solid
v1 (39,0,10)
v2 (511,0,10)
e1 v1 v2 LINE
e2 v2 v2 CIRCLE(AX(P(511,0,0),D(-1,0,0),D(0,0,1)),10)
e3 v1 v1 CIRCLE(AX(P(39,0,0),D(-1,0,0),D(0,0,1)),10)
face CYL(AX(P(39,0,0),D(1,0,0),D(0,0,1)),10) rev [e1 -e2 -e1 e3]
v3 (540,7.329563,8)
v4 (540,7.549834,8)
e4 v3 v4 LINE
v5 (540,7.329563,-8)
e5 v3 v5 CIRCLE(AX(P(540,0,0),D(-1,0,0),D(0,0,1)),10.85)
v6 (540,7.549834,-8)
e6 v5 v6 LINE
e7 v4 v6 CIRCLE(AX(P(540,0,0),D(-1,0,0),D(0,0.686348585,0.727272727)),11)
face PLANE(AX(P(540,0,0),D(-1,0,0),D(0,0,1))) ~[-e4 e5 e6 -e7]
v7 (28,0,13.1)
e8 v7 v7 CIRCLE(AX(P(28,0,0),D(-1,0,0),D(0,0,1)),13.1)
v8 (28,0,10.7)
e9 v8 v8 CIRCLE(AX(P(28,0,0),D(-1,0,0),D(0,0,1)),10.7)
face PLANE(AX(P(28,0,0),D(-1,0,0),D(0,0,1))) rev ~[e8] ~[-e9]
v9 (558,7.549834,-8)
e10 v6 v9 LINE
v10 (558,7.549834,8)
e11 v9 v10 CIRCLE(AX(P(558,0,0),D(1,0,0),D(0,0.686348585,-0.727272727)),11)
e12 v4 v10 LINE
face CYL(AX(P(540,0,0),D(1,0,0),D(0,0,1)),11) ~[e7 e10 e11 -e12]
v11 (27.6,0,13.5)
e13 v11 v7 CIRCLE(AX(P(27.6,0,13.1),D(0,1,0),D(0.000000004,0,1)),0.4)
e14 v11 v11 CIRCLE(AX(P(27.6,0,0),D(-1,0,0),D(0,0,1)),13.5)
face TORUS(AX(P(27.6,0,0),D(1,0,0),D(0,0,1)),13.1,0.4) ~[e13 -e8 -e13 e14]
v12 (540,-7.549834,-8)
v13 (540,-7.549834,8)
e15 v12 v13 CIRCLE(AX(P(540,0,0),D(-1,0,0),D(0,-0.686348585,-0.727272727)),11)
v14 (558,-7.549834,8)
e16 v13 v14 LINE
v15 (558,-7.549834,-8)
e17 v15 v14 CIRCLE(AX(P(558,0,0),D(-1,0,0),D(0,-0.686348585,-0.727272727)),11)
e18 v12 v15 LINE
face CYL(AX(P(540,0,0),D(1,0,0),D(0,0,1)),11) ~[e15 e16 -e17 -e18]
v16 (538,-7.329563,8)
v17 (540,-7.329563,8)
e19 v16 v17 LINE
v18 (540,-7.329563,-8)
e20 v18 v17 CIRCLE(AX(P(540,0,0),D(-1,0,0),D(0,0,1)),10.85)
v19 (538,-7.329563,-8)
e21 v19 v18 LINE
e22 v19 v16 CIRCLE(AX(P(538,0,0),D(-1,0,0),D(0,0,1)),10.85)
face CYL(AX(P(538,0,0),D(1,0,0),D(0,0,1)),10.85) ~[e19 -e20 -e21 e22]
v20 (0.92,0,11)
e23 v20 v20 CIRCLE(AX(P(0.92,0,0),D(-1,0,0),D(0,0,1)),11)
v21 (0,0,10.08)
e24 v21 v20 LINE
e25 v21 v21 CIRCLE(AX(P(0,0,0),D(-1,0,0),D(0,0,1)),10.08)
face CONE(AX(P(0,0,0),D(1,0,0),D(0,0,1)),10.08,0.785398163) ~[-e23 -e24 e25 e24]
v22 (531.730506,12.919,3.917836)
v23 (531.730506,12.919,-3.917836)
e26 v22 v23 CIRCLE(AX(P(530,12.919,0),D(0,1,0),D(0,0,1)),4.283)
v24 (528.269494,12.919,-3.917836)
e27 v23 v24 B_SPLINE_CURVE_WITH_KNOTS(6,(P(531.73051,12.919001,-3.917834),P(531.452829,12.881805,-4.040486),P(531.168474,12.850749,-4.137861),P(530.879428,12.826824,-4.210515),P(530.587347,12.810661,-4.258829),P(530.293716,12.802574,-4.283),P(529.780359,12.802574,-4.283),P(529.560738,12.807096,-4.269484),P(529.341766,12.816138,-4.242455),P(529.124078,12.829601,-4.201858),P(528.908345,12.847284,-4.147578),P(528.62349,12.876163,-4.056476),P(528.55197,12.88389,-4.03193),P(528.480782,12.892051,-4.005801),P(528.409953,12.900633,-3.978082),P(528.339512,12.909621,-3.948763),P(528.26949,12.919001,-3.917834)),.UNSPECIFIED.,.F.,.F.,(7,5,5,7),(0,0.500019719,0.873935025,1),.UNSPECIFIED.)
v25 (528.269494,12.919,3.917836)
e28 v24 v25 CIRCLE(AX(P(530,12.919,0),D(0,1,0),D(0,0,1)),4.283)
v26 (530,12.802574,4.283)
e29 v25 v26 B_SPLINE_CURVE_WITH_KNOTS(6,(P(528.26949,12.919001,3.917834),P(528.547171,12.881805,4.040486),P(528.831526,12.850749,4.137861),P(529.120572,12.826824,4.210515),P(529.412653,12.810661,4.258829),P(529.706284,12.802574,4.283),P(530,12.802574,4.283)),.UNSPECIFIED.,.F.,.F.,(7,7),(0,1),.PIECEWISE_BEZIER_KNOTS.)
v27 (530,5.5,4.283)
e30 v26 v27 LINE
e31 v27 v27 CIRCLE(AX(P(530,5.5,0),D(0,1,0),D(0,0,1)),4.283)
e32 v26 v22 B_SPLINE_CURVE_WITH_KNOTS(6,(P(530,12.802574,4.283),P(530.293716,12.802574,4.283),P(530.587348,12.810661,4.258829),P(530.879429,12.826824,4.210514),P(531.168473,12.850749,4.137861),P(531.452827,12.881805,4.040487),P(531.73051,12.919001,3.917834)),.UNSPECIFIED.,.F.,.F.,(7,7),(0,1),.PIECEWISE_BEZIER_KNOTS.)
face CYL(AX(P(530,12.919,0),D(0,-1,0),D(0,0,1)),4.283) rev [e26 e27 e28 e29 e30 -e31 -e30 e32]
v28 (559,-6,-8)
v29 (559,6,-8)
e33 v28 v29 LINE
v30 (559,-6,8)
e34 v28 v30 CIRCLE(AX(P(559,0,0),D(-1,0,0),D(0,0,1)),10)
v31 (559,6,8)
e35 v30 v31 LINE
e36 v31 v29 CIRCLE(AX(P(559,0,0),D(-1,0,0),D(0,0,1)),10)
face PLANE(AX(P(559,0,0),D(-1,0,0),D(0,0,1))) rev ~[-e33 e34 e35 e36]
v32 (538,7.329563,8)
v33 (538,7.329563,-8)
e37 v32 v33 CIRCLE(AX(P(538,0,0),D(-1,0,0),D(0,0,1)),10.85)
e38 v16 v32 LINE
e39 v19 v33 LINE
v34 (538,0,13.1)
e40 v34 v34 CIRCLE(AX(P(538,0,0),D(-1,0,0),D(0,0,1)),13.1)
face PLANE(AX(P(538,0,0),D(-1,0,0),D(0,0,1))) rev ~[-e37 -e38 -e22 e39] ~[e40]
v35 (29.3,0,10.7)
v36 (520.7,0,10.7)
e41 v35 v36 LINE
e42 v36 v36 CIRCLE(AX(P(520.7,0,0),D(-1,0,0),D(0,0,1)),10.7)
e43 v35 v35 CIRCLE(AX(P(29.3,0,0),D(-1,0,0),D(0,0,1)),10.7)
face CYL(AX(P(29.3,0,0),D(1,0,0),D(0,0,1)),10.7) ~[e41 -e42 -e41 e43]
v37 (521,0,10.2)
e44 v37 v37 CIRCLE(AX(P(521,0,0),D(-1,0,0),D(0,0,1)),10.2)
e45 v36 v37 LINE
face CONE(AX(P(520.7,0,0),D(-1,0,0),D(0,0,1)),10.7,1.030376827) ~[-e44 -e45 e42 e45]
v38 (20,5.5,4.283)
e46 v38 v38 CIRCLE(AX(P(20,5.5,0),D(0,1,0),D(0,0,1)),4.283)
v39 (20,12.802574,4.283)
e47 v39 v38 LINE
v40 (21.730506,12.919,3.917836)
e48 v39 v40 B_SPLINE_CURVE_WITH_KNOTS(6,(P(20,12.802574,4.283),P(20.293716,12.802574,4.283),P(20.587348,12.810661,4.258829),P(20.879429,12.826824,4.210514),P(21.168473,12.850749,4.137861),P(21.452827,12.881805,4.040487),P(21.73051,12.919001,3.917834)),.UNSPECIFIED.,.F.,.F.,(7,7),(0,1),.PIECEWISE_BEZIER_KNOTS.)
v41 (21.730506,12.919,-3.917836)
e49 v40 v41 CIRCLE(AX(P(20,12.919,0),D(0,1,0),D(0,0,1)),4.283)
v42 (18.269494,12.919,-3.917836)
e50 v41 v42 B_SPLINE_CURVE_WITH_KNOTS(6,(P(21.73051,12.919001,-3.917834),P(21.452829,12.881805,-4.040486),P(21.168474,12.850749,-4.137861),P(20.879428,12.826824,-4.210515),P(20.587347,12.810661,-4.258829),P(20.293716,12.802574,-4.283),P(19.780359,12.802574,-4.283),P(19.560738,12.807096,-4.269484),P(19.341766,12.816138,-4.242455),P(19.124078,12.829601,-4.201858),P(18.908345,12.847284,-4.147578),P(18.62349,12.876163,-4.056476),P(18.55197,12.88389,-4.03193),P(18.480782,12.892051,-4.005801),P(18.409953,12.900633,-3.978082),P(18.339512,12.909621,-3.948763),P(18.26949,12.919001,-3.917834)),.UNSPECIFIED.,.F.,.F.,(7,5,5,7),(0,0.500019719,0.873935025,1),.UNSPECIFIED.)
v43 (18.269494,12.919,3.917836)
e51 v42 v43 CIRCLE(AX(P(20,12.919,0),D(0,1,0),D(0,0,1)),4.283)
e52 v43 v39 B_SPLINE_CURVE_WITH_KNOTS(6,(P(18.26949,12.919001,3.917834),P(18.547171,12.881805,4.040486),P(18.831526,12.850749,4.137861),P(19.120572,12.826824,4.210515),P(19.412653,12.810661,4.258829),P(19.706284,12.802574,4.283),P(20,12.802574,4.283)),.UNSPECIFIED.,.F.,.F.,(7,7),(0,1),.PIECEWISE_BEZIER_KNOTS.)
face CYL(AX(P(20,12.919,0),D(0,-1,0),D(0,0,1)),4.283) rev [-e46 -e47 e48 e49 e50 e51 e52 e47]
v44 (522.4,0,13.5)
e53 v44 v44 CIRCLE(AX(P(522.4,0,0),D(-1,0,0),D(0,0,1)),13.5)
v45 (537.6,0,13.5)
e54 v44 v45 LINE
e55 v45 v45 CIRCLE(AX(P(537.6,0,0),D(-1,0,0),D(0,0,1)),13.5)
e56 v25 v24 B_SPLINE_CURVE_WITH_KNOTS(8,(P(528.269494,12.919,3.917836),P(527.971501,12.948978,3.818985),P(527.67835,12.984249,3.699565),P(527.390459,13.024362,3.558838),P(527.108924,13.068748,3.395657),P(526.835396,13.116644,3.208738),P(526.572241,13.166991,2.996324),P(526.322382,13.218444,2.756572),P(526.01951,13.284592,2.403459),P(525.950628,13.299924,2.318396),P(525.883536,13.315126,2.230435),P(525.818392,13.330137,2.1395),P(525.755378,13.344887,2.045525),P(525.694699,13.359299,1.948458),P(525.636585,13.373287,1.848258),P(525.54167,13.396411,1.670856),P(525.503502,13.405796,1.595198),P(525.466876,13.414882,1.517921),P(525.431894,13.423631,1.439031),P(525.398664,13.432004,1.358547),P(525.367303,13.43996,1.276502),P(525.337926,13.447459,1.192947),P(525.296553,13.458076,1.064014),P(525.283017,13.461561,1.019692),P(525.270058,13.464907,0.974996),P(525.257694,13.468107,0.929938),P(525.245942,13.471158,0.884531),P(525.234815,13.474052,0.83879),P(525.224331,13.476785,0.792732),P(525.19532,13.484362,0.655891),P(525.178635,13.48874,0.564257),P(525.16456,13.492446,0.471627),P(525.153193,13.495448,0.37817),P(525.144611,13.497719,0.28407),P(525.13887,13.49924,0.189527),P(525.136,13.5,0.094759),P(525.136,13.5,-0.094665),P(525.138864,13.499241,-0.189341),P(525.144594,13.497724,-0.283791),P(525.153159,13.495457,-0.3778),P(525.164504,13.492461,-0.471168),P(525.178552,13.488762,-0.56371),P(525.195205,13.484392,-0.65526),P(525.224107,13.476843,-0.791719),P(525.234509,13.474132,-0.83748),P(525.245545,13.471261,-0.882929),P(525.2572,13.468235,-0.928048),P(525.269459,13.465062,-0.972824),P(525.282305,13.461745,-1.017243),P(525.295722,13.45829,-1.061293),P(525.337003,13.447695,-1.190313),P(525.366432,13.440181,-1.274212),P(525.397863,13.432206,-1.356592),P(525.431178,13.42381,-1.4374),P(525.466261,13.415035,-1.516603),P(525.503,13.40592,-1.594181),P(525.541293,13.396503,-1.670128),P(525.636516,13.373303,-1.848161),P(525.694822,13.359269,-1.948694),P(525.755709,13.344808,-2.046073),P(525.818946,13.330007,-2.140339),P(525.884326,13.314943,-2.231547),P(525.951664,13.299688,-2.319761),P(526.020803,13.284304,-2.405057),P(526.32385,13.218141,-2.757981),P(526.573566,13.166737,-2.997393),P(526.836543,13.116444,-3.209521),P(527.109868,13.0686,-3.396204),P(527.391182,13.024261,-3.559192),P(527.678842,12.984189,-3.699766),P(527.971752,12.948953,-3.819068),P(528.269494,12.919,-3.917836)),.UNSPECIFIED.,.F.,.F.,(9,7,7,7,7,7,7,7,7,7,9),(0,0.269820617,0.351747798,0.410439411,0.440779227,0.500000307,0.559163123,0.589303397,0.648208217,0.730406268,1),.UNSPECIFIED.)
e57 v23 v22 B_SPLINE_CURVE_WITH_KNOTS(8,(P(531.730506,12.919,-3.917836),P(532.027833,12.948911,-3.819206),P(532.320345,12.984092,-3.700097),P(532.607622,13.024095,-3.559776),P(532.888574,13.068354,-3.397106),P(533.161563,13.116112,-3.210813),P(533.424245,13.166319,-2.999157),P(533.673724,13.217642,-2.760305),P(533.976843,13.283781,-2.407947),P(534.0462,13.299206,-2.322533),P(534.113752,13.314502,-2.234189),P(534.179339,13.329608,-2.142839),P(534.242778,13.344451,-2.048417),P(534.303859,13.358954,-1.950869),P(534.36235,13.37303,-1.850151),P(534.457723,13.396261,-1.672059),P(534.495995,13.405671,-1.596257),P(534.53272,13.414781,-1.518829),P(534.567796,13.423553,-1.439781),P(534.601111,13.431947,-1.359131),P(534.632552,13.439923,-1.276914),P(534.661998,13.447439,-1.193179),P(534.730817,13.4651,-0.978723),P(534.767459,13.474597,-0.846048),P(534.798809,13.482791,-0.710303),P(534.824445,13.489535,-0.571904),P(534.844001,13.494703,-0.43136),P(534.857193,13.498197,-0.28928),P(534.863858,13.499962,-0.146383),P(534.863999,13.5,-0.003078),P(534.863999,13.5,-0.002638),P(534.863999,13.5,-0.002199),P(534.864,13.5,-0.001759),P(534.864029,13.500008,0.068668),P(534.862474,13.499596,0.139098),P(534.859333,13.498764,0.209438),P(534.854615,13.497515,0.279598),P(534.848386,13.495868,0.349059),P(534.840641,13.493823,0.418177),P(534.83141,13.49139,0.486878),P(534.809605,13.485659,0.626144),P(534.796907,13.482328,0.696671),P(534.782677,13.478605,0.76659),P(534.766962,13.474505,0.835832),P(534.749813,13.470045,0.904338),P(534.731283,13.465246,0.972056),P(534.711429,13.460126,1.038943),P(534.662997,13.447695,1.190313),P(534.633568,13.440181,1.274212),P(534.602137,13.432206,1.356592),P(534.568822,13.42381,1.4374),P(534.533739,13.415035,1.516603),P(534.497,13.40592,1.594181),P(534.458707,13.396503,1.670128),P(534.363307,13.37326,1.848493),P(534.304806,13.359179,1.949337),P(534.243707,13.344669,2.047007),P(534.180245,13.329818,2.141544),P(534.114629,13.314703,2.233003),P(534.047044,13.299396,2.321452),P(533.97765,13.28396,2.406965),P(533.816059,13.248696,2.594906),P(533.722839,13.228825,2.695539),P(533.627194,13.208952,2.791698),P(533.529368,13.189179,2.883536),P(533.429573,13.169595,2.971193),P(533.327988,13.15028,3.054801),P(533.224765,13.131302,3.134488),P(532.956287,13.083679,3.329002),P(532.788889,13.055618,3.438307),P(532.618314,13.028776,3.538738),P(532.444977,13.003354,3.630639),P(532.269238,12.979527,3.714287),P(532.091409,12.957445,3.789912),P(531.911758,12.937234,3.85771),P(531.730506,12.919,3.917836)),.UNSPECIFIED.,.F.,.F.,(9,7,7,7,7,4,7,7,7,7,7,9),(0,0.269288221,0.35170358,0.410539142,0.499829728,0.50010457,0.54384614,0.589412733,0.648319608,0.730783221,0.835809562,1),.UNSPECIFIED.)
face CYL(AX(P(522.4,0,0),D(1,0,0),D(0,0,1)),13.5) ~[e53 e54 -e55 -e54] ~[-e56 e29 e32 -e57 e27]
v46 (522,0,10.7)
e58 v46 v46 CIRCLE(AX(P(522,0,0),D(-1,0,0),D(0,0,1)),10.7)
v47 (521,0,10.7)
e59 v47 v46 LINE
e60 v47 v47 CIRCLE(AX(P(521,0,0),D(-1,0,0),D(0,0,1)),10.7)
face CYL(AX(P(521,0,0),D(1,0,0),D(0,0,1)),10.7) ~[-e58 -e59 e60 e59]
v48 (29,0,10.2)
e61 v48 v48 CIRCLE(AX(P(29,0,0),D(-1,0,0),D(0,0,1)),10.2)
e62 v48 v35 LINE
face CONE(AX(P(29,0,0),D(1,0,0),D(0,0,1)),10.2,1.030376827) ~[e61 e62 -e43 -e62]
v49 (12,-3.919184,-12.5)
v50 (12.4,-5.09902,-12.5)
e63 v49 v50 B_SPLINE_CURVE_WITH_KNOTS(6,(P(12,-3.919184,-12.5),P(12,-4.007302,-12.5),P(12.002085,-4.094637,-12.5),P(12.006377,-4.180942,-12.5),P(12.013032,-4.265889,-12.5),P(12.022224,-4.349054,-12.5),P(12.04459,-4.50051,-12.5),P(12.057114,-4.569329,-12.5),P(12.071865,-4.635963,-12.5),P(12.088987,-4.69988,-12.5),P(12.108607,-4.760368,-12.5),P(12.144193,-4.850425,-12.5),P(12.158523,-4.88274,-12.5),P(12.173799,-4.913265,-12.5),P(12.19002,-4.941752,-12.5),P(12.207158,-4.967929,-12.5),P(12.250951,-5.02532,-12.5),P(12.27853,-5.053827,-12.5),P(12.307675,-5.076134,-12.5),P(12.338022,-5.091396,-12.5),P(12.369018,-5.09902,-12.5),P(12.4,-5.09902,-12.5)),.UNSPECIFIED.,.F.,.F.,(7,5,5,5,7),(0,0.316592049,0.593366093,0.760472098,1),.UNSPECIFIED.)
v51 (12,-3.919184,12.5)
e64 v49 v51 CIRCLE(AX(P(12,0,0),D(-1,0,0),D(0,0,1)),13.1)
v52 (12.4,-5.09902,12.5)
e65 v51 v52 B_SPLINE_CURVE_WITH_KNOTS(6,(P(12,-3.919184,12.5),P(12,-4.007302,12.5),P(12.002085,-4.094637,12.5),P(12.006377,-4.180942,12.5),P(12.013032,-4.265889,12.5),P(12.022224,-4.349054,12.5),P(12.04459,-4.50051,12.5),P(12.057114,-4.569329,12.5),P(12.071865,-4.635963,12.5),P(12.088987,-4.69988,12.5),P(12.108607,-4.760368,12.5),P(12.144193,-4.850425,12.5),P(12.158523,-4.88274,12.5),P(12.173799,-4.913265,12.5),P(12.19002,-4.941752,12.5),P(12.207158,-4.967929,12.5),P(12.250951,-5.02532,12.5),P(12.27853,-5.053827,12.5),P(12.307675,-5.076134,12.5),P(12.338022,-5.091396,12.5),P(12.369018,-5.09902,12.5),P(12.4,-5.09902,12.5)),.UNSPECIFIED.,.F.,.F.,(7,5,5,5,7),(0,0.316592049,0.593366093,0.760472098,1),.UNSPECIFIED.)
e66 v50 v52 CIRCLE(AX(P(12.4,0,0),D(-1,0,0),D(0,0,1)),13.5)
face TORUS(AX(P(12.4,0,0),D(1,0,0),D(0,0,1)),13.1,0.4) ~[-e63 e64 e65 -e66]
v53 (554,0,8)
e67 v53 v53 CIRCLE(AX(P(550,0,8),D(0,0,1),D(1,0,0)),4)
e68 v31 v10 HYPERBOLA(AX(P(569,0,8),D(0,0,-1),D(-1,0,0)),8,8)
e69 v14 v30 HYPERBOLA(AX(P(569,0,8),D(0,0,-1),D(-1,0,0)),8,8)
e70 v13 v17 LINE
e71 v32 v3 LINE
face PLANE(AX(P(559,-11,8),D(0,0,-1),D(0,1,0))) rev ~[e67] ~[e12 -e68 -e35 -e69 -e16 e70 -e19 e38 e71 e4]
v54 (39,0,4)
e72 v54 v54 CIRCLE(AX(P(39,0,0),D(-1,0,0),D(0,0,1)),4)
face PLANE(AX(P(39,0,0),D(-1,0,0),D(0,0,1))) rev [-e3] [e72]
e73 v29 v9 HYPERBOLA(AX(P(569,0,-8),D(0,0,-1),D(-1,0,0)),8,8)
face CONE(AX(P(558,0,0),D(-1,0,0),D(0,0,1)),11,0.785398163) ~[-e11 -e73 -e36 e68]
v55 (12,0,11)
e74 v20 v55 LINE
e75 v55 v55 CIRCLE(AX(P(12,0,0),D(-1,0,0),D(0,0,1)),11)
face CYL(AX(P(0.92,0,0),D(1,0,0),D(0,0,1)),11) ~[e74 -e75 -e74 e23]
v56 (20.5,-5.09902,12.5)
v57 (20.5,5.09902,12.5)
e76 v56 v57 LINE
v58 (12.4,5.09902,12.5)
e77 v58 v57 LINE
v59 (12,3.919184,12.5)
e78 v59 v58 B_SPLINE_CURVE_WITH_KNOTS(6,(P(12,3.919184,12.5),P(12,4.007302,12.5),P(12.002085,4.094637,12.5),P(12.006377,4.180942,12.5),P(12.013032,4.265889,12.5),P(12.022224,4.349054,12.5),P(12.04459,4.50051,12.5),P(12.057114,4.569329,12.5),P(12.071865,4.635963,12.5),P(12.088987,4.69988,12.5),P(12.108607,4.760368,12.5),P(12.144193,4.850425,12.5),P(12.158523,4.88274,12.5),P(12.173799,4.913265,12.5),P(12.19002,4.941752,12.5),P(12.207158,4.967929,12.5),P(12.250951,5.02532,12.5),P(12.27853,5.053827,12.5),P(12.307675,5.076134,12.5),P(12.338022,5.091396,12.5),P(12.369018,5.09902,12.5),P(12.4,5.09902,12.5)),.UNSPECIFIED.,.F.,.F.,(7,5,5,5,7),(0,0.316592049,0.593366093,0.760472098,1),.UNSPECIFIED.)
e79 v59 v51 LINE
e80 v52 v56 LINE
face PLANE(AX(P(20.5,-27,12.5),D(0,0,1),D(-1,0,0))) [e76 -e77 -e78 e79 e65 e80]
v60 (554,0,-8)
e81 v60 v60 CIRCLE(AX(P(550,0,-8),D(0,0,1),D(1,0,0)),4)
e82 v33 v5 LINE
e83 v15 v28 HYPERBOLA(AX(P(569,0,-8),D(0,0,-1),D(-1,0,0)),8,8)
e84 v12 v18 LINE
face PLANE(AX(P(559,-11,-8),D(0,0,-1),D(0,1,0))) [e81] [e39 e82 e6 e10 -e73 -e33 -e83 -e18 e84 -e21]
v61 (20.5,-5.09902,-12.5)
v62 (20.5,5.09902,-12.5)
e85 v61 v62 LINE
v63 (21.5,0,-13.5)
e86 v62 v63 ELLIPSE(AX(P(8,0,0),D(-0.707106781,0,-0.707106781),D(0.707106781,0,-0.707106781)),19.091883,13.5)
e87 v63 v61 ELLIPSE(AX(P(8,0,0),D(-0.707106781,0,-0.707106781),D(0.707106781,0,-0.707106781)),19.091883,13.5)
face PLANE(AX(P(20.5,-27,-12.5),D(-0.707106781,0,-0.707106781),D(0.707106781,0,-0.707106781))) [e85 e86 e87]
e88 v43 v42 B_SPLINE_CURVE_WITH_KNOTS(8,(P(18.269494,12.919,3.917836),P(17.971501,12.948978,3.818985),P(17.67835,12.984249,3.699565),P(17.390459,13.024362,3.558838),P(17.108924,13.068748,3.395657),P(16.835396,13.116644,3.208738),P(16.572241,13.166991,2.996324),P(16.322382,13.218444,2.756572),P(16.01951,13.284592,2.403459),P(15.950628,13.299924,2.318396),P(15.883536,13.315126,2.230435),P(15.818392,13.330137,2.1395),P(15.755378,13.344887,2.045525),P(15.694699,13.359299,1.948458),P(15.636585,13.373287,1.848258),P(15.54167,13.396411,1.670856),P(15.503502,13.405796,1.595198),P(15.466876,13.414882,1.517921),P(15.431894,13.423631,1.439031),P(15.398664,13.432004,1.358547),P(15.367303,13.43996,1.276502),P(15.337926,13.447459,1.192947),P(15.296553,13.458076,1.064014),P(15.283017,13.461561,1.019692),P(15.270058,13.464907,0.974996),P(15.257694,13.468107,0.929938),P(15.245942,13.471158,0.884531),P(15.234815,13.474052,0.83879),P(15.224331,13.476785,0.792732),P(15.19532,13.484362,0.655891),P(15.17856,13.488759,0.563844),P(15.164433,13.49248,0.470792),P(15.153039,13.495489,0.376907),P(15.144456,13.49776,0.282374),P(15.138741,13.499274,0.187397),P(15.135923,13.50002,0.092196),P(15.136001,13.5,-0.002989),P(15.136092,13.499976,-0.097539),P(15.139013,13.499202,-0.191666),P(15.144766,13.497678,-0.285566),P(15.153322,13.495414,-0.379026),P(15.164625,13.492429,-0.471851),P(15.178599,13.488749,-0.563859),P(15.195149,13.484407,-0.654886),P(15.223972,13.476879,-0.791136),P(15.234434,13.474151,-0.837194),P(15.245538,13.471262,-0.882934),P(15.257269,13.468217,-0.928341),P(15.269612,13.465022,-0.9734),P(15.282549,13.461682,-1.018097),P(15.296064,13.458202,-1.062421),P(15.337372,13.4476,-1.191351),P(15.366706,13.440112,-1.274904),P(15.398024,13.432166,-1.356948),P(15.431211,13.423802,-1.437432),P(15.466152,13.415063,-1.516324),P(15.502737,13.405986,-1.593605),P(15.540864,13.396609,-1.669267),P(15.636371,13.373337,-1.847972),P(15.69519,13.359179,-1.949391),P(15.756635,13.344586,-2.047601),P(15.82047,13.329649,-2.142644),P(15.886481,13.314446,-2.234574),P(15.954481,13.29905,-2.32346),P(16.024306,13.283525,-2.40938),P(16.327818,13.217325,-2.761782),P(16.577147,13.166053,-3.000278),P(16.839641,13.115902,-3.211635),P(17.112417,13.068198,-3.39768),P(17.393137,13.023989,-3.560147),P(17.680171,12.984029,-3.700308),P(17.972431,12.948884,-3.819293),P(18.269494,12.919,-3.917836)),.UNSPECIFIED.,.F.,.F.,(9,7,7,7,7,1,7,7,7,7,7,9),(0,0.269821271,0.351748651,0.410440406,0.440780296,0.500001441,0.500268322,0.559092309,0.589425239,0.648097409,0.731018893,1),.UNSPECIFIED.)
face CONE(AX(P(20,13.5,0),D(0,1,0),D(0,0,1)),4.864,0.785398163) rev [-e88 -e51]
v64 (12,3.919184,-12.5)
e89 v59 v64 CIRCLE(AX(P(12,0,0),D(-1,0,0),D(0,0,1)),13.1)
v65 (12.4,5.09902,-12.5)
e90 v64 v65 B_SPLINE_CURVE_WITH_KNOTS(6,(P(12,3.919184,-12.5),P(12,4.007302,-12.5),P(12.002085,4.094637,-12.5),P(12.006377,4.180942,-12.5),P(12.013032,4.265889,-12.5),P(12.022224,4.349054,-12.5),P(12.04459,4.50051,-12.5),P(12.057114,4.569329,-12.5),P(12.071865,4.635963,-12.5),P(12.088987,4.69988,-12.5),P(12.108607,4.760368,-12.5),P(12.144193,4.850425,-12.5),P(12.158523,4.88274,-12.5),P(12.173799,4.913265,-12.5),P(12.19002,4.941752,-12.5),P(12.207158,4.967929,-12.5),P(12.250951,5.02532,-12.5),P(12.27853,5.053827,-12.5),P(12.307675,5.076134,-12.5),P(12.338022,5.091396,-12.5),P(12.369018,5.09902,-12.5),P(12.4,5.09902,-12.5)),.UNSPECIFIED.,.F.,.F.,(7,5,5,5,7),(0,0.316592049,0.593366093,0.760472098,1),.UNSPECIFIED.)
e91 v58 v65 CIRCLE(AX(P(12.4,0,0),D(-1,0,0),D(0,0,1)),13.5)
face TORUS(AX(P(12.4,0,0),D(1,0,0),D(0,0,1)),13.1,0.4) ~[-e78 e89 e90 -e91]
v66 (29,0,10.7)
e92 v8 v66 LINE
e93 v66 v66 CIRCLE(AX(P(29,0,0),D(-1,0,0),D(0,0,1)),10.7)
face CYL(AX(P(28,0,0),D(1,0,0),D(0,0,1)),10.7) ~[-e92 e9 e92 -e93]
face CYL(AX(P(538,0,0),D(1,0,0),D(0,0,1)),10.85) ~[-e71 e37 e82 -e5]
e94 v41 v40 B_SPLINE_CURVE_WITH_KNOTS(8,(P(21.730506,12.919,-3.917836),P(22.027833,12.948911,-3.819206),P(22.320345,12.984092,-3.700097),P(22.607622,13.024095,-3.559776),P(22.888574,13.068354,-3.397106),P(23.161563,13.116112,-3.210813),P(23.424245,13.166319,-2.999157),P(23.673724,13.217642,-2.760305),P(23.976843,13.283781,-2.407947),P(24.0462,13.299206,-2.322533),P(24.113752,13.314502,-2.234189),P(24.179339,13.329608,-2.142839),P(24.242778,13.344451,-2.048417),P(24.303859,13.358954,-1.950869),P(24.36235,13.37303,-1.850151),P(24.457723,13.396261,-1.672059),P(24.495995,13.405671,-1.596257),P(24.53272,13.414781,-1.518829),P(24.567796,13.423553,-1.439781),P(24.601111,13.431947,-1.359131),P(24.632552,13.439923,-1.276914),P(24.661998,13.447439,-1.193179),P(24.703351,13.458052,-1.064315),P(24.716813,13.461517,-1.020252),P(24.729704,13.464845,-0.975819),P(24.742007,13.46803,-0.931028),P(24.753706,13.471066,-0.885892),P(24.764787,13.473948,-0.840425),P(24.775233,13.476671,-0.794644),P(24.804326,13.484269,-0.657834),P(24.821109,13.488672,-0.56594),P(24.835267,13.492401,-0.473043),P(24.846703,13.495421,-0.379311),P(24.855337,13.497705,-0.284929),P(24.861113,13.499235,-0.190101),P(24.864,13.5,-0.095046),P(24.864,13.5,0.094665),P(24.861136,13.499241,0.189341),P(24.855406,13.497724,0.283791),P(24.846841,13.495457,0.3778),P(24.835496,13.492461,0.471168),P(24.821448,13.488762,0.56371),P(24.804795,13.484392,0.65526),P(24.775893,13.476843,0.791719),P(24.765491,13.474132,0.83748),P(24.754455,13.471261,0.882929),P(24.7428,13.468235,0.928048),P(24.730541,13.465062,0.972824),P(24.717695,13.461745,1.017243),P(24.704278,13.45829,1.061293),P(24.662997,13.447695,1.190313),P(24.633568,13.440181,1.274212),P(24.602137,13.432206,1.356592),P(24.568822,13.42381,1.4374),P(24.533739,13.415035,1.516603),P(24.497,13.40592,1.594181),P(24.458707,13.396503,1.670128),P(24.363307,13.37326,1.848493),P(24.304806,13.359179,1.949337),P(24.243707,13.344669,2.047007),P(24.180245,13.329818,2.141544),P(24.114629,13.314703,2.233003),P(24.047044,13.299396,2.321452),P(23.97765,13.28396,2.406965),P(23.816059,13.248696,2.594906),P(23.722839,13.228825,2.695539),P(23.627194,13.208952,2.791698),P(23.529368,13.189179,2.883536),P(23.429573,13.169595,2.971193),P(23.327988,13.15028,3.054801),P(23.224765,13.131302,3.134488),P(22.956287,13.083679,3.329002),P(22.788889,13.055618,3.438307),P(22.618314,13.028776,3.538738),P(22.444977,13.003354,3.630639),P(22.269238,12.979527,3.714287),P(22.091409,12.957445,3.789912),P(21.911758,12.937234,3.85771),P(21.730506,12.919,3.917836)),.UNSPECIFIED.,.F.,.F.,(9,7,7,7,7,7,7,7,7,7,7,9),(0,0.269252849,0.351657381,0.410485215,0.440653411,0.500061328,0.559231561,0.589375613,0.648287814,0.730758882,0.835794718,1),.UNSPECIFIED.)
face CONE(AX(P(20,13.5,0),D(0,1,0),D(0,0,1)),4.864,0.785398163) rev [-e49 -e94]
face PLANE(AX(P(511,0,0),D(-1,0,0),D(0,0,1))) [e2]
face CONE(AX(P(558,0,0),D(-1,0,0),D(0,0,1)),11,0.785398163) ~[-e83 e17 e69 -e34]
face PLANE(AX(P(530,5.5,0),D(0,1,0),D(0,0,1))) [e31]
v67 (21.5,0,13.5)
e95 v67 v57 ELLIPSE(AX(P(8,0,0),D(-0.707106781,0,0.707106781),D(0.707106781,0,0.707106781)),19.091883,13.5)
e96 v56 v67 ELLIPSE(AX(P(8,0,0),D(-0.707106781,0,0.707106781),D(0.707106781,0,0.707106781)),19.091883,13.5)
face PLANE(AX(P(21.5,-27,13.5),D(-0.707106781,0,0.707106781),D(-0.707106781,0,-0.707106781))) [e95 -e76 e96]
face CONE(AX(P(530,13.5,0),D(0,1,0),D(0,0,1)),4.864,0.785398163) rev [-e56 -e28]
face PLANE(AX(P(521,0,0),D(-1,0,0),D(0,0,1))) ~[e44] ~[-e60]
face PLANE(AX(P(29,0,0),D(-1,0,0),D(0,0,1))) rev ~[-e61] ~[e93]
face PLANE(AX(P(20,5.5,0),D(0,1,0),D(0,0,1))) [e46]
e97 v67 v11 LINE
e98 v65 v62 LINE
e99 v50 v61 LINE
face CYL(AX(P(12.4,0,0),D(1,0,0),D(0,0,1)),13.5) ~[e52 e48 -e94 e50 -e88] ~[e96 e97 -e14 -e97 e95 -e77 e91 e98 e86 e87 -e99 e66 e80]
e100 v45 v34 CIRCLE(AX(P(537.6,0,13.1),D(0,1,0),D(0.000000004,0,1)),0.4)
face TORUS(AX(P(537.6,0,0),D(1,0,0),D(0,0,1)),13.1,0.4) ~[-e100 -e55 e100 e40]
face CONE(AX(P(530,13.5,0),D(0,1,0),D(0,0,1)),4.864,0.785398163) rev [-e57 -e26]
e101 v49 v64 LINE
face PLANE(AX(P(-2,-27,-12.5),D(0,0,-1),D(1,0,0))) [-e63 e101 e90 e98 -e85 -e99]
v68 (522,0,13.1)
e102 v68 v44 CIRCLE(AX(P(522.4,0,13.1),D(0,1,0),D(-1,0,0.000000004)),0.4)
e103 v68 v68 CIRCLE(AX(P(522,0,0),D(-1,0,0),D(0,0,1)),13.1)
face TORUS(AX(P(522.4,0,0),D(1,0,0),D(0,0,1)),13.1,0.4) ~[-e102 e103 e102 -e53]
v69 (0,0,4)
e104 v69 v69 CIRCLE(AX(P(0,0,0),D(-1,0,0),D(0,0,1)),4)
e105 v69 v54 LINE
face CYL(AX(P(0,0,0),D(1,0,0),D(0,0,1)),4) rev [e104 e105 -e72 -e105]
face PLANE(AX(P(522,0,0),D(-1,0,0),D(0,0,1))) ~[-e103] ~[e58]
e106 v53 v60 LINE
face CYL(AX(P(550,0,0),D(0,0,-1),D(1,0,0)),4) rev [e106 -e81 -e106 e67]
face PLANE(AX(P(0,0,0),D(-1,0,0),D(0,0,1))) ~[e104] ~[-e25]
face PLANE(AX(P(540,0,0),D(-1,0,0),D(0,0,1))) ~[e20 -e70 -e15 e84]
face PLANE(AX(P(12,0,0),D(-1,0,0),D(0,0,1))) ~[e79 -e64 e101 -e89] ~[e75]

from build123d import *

# Parameters (mm, degrees)
SKETCH_3_W               = 36
SKETCH_3_H               = 42
SKETCH_3_W_2             = 16
SKETCH_3_H_2             = 22
CUT_EXTRUDE_1_DEPTH      = 21
SKETCH_4_W               = 16
SKETCH_4_H               = 4
CUT_EXTRUDE_2_DEPTH      = 27
CUT_EXTRUDE_2_DEPTH_BACK = 27


with BuildPart() as part:
    # 草图1 → 旋转1 (revolve)
    with BuildSketch(Plane.XY):
        with BuildLine():
            Line((0, 0), (0, 10.08))
            Line((0, 10.08), (0.92, 11))
            Line((0.92, 11), (12, 11))
            Line((12, 11), (12, 13.1))
            ThreePointArc((12, 13.1), (12.117157288, 13.382842712), (12.4, 13.5))
            Line((12.4, 13.5), (27.6, 13.5))
            ThreePointArc((27.6, 13.5), (27.882842712, 13.382842712), (28, 13.1))
            Line((28, 13.1), (28, 10.7))
            Line((28, 10.7), (29, 10.7))
            Line((29, 10.7), (29, 10.2))
            Line((29, 10.2), (29.3, 10.7))
            Line((29.3, 10.7), (520.7, 10.7))
            Line((520.7, 10.7), (521, 10.2))
            Line((521, 10.2), (521, 10.7))
            Line((521, 10.7), (522, 10.7))
            Line((522, 10.7), (522, 13.1))
            ThreePointArc((522, 13.1), (522.117157288, 13.382842712), (522.4, 13.5))
            Line((522.4, 13.5), (537.6, 13.5))
            ThreePointArc((537.6, 13.5), (537.882842712, 13.382842712), (538, 13.1))
            Line((538, 13.1), (538, 0))
            Line((538, 0), (0, 0))
        make_face()
    revolve(axis=Axis((538, 0, 0), (-1, 0, 0)))

    # 草图2 → 旋转2 (revolve)
    with BuildSketch(Plane.XY):
        Polygon((538, 0), (538, 10.85), (540, 10.85), (540, 11), (558, 11), (559, 10), (559, 0), align=None)
    revolve(axis=Axis((559, 0, 0), (-1, 0, 0)))

    # 草图3 → 切除-拉伸1 (cut)
    with BuildSketch(Plane(origin=(559, 0, 0), x_dir=(0, 0, -1), z_dir=(1, 0, 0))):
        Rectangle(SKETCH_3_W, SKETCH_3_H)
        Rectangle(SKETCH_3_W_2, SKETCH_3_H_2, mode=Mode.SUBTRACT)
    extrude(amount=-CUT_EXTRUDE_1_DEPTH, mode=Mode.SUBTRACT)

    # 草图4 → 切除-旋转1 (revolve, cut)
    with BuildSketch(Plane(origin=(550, 0, 0), x_dir=(0, 0, -1), z_dir=(1, 0, 0))):
        with Locations((0, 2)):
            Rectangle(SKETCH_4_W, SKETCH_4_H)
    revolve(axis=Axis((550, 0, -8), (0, 0, 1)), mode=Mode.SUBTRACT)

    # 草图5 → 切除-旋转2 (revolve, cut)
    with BuildSketch(Plane.XY):
        Polygon((20, 13.5), (24.864, 13.5), (24.283, 12.919), (24.283, 5.5), (20, 5.5), align=None)
    revolve(axis=Axis((20, 5.5, 0), (0, 1, 0)), mode=Mode.SUBTRACT)

    # 草图6 → 切除-旋转3 (revolve, cut)
    with BuildSketch(Plane.XY):
        Polygon((530, 13.5), (534.864, 13.5), (534.283, 12.919), (534.283, 5.5), (530, 5.5), align=None)
    revolve(axis=Axis((530, 5.5, 0), (0, 1, 0)), mode=Mode.SUBTRACT)

    # 草图7 → 切除-拉伸2 (cut, two sides: drawn at the far end of the back side and taken through both)
    with BuildSketch(Plane(origin=(0, 0, 0), x_dir=(1, 0, 0), z_dir=(0, 1, 0)).offset(-CUT_EXTRUDE_2_DEPTH_BACK)):
        Polygon((-4, -13.5), (21.5, -13.5), (20.5, -12.5), (-2, -12.5), (-2, 12.5), (20.5, 12.5), (21.5, 13.5), (-4, 13.5), align=None)
    extrude(amount=CUT_EXTRUDE_2_DEPTH + CUT_EXTRUDE_2_DEPTH_BACK, mode=Mode.SUBTRACT)

    # 草图8 → 切除-旋转4 (revolve, cut)
    with BuildSketch(Plane.XY):
        Polygon((0, 0), (0, 4), (39, 4), (39, 10), (511, 10), (511, 0), align=None)
    revolve(axis=Axis((511, 0, 0), (-1, 0, 0)), mode=Mode.SUBTRACT)


solid = part.part
